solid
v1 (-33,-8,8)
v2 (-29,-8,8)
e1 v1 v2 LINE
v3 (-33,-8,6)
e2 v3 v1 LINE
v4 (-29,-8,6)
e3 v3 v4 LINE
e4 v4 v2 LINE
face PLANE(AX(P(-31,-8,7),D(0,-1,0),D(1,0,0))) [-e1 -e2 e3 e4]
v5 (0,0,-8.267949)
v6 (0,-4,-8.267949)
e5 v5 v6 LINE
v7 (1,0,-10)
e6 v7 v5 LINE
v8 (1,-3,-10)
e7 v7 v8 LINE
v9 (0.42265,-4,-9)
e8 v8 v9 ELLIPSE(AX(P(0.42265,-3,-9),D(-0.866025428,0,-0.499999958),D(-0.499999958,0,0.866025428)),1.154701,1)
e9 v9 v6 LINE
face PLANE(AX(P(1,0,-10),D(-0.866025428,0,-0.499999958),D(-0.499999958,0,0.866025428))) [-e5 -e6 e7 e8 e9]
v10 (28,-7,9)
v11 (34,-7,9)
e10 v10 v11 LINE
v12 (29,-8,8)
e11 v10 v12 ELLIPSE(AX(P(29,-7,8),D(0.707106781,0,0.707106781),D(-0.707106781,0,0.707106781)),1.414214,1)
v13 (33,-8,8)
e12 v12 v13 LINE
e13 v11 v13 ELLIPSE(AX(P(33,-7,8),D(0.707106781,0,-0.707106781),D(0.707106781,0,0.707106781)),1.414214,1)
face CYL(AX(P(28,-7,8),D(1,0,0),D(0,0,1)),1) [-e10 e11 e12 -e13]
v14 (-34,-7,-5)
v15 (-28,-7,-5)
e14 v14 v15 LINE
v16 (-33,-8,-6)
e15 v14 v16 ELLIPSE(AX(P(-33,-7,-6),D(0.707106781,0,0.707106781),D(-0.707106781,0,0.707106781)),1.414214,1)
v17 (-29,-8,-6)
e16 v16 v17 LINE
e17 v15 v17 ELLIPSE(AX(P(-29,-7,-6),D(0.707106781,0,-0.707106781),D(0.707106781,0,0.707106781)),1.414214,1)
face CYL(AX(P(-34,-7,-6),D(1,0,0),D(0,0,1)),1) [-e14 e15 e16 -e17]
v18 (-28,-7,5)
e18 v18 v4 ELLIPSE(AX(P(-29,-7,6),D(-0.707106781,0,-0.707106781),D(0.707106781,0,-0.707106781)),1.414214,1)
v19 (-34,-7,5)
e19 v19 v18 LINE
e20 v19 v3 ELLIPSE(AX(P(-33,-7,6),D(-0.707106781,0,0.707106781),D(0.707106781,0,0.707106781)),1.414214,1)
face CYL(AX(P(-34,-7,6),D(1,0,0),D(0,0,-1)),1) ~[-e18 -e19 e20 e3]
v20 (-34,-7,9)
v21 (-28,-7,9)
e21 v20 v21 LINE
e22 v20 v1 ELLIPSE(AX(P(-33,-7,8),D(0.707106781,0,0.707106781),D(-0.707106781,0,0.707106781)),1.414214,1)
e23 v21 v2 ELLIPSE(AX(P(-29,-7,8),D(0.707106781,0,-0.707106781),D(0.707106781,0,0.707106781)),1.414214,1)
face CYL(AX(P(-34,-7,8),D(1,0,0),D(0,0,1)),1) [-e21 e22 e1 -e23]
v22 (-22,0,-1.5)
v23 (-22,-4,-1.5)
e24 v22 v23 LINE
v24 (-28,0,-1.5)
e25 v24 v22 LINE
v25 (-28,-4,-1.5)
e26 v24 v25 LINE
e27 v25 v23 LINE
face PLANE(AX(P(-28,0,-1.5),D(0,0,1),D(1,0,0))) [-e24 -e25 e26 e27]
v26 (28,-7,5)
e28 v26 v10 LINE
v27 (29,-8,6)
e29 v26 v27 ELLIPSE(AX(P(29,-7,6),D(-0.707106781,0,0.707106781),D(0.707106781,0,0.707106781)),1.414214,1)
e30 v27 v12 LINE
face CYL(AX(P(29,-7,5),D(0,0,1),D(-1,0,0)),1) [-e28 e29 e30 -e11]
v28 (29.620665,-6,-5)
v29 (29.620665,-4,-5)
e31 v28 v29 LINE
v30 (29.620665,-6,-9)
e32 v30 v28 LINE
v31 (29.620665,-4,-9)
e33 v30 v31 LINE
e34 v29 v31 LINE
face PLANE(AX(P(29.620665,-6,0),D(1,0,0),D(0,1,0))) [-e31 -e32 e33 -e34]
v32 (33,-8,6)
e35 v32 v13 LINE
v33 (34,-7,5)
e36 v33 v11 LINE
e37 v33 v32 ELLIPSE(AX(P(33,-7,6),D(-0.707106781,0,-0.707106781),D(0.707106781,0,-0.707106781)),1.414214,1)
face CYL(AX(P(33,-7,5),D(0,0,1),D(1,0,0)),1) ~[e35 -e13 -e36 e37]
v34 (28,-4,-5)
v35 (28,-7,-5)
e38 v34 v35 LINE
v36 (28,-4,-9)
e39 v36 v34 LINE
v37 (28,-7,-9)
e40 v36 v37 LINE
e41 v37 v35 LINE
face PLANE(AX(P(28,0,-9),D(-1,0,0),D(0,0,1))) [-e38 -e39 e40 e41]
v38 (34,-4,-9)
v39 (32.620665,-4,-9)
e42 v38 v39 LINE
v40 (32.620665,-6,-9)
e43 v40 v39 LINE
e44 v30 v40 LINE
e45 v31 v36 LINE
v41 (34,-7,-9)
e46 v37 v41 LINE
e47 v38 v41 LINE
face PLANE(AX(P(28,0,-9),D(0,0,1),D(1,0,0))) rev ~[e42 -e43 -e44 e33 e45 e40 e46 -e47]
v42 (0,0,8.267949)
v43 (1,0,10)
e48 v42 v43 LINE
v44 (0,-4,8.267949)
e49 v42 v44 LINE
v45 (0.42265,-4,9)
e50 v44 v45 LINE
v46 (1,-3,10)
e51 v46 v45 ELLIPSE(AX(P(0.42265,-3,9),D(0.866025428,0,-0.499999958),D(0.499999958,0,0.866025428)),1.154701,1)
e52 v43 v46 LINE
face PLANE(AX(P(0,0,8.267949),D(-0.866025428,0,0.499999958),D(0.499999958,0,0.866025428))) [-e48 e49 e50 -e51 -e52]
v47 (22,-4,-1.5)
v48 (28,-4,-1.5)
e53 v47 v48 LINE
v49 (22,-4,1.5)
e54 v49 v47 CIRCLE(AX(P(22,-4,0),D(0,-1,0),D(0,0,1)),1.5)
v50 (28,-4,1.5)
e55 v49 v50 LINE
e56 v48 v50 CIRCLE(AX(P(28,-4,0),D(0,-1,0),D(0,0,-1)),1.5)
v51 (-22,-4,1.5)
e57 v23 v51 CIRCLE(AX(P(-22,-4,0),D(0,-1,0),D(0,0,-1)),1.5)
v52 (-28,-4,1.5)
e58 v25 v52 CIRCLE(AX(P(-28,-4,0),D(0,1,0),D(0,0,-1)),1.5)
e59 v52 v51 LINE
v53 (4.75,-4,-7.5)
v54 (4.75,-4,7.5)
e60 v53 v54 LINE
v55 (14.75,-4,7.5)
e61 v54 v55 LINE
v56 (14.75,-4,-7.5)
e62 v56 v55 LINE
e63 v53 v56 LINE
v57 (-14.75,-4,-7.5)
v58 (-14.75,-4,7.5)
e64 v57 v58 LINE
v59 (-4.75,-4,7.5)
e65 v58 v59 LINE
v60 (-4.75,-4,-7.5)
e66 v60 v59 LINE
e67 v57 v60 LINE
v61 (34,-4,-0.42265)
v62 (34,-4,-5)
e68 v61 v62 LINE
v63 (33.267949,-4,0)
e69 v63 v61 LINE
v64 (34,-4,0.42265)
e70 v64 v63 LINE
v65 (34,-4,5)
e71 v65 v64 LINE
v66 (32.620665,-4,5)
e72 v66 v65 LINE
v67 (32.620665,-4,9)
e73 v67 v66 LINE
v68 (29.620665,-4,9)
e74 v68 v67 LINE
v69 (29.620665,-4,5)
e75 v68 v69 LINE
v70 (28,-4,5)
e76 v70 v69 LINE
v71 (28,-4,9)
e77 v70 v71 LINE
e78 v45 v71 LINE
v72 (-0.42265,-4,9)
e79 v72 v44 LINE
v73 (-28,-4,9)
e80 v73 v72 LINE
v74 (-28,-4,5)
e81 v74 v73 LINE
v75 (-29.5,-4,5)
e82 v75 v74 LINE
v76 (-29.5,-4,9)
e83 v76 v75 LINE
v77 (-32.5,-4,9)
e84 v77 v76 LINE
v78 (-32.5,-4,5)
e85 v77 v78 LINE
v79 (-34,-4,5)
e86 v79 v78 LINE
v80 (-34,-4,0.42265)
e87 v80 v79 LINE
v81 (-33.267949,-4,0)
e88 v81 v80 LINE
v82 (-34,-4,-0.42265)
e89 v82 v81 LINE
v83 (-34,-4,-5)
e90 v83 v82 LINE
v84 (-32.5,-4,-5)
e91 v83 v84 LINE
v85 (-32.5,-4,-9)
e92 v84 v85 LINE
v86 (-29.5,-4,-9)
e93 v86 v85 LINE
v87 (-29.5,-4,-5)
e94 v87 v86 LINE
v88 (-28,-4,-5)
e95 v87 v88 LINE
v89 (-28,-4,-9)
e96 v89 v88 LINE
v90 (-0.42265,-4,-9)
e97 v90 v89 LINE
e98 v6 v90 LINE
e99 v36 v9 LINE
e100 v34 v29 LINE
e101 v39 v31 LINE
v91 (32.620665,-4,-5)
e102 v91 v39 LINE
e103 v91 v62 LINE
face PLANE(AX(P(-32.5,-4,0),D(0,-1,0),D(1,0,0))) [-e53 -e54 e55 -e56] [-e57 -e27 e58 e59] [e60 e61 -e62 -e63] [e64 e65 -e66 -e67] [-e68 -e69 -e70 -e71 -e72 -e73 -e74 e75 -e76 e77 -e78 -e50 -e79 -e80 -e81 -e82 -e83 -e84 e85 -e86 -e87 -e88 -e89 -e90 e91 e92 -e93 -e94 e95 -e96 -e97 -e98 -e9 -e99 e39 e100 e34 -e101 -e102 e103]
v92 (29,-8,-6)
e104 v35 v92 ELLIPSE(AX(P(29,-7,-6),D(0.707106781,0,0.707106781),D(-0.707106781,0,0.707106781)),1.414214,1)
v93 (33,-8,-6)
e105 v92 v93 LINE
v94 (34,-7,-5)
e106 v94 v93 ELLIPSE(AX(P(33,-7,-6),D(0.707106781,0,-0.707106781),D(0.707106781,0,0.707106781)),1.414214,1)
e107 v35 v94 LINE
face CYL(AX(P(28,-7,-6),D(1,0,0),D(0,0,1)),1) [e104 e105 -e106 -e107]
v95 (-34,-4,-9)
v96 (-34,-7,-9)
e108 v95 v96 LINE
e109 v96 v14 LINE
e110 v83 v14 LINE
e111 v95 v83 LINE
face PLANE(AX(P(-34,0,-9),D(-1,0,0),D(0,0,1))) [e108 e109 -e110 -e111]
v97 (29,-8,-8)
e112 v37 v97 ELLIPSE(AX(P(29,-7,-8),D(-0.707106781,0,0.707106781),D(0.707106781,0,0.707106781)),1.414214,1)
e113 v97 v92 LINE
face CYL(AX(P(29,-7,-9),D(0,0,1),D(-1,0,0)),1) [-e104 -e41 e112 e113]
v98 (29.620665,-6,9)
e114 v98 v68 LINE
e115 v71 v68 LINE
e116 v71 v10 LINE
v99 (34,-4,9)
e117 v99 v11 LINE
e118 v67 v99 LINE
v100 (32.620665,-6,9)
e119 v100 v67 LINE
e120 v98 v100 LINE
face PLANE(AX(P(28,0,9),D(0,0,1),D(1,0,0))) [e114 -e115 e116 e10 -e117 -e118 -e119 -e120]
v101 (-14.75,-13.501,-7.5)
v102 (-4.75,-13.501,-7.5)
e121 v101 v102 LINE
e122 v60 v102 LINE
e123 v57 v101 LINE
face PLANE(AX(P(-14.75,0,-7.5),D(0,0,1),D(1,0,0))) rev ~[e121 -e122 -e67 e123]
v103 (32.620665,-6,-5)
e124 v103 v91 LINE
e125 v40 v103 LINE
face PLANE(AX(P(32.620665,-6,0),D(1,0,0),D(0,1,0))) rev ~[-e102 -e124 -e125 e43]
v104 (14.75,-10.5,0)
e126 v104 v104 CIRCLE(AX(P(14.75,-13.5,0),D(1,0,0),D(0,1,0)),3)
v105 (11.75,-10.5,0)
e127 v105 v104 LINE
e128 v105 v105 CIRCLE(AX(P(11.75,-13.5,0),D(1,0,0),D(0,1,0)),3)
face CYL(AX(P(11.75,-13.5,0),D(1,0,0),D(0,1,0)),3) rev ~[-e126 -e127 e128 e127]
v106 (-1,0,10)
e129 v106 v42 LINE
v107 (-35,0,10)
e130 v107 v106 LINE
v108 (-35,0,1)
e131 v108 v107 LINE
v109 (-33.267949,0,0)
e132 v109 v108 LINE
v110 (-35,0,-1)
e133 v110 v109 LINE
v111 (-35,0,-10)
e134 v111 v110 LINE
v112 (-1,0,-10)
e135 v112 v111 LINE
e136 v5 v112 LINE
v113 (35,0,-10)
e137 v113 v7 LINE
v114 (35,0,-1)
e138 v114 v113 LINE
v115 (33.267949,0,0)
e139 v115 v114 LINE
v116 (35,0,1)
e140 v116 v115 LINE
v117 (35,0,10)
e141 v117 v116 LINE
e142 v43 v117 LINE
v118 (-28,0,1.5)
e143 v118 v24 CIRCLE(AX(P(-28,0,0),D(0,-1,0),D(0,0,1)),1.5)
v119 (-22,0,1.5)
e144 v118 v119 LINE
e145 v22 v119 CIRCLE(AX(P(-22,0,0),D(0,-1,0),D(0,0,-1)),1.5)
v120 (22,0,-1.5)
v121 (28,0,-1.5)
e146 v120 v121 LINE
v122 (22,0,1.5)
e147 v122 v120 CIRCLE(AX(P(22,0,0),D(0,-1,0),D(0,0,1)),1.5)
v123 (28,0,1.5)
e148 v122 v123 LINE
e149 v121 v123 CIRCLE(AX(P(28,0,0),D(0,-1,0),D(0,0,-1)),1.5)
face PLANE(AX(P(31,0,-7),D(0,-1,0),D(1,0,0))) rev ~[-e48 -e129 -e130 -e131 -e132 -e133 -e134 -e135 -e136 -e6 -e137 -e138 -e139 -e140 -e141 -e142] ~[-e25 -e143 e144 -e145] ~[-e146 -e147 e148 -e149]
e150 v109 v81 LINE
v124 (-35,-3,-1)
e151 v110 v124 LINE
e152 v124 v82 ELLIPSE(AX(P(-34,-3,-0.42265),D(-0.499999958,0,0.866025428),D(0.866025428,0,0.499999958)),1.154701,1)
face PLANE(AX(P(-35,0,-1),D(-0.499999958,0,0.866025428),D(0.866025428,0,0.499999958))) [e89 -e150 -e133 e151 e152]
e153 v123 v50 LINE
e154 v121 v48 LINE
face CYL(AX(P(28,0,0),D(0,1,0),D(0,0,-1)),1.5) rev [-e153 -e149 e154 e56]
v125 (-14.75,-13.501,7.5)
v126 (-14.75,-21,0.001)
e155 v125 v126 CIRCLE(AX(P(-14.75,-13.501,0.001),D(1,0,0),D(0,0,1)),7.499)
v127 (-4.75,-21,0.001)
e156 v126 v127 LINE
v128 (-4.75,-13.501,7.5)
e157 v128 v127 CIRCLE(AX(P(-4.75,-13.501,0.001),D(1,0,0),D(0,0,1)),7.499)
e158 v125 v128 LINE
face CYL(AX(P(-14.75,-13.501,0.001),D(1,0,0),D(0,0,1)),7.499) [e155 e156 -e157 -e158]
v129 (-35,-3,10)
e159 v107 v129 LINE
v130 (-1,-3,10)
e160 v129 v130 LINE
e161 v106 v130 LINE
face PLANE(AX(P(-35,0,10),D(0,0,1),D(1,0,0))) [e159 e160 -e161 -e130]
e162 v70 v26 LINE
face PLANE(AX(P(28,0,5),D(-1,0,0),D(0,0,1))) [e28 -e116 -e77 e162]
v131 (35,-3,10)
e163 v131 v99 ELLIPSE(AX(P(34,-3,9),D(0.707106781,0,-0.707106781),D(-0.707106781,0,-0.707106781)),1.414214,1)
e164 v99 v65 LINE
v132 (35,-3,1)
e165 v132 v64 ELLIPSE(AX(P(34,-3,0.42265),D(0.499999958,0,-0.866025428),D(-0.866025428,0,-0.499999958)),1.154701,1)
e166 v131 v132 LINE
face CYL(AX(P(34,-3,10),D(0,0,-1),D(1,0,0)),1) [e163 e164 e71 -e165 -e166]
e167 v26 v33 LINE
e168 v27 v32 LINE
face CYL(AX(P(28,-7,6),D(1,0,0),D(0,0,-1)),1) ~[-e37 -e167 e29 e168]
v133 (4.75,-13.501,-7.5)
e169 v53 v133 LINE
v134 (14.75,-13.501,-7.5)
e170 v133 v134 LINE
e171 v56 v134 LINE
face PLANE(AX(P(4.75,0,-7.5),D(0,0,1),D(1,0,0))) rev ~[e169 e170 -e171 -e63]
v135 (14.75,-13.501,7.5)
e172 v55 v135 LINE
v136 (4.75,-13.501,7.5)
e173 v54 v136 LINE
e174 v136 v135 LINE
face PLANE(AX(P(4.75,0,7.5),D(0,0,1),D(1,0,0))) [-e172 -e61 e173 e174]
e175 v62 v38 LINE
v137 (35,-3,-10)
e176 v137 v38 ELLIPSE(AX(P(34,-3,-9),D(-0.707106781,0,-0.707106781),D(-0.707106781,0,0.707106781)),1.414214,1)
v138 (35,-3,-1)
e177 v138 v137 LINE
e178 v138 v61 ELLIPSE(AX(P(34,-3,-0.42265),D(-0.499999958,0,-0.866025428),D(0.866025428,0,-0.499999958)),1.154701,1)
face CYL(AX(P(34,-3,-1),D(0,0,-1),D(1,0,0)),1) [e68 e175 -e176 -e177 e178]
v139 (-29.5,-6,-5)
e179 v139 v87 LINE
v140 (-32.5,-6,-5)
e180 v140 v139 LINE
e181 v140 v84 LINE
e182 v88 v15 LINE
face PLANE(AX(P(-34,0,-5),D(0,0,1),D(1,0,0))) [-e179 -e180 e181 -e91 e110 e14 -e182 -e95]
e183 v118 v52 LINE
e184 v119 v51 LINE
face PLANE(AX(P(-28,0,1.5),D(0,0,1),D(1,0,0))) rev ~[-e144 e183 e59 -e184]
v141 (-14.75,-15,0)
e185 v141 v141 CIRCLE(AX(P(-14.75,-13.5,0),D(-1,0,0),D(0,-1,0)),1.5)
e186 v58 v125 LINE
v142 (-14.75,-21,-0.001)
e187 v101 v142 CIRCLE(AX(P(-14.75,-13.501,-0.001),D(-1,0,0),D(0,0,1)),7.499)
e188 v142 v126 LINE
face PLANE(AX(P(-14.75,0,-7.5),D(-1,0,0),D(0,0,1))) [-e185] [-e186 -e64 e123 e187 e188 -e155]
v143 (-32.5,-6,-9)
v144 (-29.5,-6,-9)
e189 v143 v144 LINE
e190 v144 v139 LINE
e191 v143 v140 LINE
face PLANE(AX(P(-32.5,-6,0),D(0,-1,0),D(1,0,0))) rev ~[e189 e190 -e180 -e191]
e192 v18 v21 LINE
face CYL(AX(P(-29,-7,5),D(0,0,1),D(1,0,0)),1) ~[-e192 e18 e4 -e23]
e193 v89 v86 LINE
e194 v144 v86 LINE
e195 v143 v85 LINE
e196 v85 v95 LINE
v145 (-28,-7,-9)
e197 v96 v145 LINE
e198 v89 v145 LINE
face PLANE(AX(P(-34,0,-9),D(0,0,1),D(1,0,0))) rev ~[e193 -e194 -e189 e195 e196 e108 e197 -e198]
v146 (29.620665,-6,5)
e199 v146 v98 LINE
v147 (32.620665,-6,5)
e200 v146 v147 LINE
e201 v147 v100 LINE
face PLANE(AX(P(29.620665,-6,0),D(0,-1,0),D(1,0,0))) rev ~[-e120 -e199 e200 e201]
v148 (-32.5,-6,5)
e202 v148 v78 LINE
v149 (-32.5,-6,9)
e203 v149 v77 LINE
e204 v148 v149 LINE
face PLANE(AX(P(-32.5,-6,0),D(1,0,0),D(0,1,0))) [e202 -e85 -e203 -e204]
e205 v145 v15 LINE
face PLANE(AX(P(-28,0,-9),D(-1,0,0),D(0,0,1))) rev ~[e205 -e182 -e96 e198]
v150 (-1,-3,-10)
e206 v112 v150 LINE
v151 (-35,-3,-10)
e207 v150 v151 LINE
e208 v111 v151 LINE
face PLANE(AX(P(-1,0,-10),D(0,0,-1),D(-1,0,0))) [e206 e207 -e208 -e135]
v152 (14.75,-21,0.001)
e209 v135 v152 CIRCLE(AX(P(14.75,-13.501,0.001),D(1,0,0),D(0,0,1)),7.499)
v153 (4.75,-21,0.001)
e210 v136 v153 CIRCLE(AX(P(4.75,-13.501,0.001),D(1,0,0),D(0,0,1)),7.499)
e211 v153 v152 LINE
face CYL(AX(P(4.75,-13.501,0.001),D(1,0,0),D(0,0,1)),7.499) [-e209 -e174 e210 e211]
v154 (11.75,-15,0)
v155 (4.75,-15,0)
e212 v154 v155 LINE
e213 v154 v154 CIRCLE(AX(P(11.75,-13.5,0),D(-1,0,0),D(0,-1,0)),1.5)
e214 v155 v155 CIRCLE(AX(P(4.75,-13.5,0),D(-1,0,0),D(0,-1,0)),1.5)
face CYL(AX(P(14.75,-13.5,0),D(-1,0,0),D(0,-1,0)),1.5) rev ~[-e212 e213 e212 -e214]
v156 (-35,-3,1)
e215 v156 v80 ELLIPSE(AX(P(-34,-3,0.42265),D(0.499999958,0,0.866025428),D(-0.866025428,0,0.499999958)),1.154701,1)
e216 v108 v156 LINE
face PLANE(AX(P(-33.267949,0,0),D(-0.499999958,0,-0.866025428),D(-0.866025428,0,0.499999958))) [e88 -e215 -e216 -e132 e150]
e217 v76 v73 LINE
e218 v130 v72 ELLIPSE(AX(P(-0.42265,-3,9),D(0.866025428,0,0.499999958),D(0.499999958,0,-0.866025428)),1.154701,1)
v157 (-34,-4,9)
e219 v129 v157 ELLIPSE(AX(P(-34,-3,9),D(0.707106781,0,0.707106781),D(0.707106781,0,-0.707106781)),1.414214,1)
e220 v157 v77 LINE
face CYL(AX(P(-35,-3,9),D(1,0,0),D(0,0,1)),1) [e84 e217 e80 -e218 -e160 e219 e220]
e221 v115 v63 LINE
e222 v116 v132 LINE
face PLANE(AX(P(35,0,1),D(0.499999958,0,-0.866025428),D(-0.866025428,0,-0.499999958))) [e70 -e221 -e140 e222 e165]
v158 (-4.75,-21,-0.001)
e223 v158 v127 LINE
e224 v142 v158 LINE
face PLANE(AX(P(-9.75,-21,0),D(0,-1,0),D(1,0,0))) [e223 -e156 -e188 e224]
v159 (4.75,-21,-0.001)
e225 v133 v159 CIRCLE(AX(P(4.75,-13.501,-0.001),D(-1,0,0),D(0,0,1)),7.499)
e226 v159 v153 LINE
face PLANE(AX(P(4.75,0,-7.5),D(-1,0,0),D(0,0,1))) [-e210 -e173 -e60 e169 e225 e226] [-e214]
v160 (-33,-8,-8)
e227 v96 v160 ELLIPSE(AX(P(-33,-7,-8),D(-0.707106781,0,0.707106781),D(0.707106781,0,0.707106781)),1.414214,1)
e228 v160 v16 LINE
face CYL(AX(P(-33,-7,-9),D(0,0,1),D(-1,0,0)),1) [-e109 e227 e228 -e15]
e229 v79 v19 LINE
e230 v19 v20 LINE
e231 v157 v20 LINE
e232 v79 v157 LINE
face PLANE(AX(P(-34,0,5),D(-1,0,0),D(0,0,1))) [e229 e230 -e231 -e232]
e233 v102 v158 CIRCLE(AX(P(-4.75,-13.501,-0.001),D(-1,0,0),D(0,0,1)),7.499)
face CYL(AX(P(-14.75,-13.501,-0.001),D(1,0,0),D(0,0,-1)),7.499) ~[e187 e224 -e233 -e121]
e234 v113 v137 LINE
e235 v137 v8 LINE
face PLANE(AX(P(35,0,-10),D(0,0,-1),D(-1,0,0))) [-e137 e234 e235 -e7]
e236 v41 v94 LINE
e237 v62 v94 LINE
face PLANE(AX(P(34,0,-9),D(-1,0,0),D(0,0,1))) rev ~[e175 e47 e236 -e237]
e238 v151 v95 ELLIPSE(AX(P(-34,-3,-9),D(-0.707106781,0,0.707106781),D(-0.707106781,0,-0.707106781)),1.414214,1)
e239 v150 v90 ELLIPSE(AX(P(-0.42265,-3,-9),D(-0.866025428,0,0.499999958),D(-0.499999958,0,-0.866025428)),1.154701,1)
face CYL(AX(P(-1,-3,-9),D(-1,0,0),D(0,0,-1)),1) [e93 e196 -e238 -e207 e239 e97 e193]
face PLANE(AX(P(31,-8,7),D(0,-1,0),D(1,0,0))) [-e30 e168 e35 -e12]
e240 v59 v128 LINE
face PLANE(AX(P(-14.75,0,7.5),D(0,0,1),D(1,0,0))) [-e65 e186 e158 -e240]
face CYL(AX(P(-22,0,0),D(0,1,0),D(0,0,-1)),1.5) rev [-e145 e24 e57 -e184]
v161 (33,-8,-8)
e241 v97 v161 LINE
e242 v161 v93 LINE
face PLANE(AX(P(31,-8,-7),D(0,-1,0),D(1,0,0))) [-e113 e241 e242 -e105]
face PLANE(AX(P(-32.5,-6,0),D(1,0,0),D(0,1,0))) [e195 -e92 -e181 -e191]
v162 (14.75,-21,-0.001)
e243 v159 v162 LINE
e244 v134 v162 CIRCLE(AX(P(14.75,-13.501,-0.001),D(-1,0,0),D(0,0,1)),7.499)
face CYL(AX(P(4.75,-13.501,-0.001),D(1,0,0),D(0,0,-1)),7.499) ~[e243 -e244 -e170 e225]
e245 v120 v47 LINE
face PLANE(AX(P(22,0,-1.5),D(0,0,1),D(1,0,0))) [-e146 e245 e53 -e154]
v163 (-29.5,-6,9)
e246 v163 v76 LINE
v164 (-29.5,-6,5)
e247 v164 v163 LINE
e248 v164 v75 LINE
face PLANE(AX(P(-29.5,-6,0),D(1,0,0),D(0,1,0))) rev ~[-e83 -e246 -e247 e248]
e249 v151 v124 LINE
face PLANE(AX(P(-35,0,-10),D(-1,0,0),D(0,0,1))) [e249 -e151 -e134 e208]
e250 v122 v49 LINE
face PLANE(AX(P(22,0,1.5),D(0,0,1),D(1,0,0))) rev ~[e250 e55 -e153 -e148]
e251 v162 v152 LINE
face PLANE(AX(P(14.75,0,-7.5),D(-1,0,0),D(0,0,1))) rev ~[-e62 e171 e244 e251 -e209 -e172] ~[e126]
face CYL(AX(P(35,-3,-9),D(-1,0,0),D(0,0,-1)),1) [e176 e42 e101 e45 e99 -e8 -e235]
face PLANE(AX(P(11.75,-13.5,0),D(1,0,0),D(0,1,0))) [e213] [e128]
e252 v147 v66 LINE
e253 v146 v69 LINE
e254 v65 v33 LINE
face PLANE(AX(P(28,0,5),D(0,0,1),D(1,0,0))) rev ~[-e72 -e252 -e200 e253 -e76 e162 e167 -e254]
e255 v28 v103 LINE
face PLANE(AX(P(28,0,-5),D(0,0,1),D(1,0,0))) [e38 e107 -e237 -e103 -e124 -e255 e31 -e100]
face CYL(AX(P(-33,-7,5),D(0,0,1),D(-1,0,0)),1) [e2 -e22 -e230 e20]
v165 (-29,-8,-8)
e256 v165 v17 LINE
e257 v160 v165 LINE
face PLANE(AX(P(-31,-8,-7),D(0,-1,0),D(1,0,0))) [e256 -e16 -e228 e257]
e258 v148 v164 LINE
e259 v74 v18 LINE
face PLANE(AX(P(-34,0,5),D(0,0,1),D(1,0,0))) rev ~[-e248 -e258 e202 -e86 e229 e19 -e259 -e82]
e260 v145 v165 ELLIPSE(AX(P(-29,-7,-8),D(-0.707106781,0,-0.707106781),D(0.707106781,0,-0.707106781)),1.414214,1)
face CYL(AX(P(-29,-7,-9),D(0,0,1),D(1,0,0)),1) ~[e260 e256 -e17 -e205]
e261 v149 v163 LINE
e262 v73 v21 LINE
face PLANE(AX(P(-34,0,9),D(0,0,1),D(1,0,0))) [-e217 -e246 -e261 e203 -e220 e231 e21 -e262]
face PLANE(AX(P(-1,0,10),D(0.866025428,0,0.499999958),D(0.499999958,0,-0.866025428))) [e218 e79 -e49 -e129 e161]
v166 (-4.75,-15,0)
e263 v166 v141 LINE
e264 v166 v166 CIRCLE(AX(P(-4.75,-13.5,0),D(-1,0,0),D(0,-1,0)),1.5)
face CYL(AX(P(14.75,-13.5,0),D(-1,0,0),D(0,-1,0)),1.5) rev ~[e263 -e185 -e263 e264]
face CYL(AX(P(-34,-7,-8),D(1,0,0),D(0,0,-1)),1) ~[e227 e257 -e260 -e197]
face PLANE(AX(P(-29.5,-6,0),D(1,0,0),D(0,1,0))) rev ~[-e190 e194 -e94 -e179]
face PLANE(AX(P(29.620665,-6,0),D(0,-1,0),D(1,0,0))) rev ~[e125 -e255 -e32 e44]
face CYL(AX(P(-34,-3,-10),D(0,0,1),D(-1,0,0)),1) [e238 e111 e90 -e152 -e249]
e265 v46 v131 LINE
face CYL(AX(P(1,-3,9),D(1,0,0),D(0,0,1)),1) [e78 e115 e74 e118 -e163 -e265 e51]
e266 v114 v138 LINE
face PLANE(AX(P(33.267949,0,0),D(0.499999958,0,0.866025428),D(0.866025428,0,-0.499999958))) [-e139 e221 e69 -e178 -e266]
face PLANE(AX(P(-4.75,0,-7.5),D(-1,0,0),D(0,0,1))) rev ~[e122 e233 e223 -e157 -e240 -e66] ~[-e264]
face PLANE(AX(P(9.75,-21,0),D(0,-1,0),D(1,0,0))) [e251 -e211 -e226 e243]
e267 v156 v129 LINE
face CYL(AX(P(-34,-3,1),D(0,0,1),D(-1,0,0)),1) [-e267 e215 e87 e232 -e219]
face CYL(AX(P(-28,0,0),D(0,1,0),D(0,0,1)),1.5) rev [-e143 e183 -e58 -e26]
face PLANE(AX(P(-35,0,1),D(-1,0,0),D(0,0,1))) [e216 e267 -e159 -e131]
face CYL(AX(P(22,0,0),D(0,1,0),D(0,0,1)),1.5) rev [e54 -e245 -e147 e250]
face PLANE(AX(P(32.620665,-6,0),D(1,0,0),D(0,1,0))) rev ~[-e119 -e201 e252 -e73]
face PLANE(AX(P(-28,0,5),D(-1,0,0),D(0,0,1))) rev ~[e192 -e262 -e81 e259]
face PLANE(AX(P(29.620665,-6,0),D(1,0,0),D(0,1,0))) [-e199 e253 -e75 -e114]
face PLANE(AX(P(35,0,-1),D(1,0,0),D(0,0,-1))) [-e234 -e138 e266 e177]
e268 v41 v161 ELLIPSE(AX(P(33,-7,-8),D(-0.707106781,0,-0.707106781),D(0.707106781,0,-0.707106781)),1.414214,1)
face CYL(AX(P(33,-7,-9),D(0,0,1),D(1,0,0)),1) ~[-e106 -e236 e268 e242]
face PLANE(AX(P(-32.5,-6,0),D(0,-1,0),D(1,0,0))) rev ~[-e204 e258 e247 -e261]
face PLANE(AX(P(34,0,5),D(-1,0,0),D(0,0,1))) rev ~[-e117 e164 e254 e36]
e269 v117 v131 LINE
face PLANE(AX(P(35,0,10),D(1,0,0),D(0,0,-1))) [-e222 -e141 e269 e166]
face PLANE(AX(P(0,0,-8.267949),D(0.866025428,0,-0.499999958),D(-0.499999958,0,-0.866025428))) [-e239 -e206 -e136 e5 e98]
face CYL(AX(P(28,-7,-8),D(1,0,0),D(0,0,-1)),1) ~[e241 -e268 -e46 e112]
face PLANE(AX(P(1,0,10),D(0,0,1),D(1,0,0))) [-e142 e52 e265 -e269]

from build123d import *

# Parameters (mm, degrees)
SKETCH001_W         = 10
SKETCH001_H         = 15
PAD001_DEPTH        = 21
FILLET001_R         = 7.499
SKETCH005_W         = 10
SKETCH005_H         = 15
PAD002_DEPTH        = 21
FILLET002_R         = 7.499
PAD_DEPTH           = 4
FILLET_R            = 1
SKETCH008_W         = 6
SKETCH008_H         = 4
PAD003_DEPTH        = 8
SKETCH009_W         = 6
SKETCH009_H         = 4
PAD004_DEPTH        = 8
SKETCH010_W         = 6
SKETCH010_H         = 4
PAD005_DEPTH        = 8
SKETCH011_W         = 6
SKETCH011_H         = 4
PAD006_DEPTH        = 8
FILLET003_R         = 1
HOLE001_D           = 3
HOLE001_DEPTH       = 100
HOLE001_CBORE_D     = 6
HOLE001_CBORE_DEPTH = 3
SKETCH013_W         = 3
SKETCH013_H         = 2
POCKET_DEPTH        = 15
SKETCH014_W         = 3
SKETCH014_H         = 2
POCKET001_DEPTH     = 15


with BuildPart() as left_hinge:
    # Sketch001 → Pad001 (new body)
    with BuildSketch(Plane.XZ):
        with Locations((-9.75, 0)):
            Rectangle(SKETCH001_W, SKETCH001_H)
    extrude(amount=PAD001_DEPTH)

    # Fillet001
    fillet001_edges = [left_hinge.edges().sort_by_distance(p)[0] for p in [
        (-9.75, -21, -7.5),
        (-9.75, -21, 7.5),
    ]]
    fillet(fillet001_edges, radius=FILLET001_R)


with BuildPart() as body002:
    # Sketch005 → Pad002 (new body)
    with BuildSketch(Plane.XZ):
        with Locations((9.75, 0)):
            Rectangle(SKETCH005_W, SKETCH005_H)
    extrude(amount=PAD002_DEPTH)

    # Fillet002
    fillet002_edges = [body002.edges().sort_by_distance(p)[0] for p in [
        (9.75, -21, -7.5),
        (9.75, -21, 7.5),
    ]]
    fillet(fillet002_edges, radius=FILLET002_R)


with BuildPart() as base:
    # Sketch → Pad (new body)
    with BuildSketch(Plane.XZ):
        Polygon((-35, 10), (-1, 10), (0, 8.267949), (1, 10), (35, 10), (35, 1), (33.267949, 0), (35, -1), (35, -10), (1, -10), (0, -8.267949), (-1, -10), (-35, -10), (-35, -1), (-33.267949, 0), (-35, 1), align=None)
        with BuildLine():
            ThreePointArc((-28, 1.5), (-29.5, 0), (-28, -1.5))
            Line((-28, -1.5), (-22, -1.5))
            ThreePointArc((-22, -1.5), (-20.5, 0), (-22, 1.5))
            Line((-28, 1.5), (-22, 1.5))
        make_face(mode=Mode.SUBTRACT)
        with BuildLine():
            ThreePointArc((22, 1.5), (20.5, 0), (22, -1.5))
            Line((22, -1.5), (28, -1.5))
            ThreePointArc((28, -1.5), (29.5, 0), (28, 1.5))
            Line((22, 1.5), (28, 1.5))
        make_face(mode=Mode.SUBTRACT)
    extrude(amount=PAD_DEPTH)

    # Fillet
    fillet_edges = [base.edges().sort_by_distance(p)[0] for p in [
        (-18, -4, -10),
        (18, -4, -10),
        (35, -4, -5.5),
        (35, -4, 5.5),
        (18, -4, 10),
        (-18, -4, 10),
        (-35, -4, 5.5),
        (-35, -4, -5.5),
    ]]
    fillet(fillet_edges, radius=FILLET_R)

    # Boolean: union Left hinge
    add(left_hinge.part)

    # Boolean001: union Body002
    add(body002.part)

    # Sketch008 → Pad003 (join)
    with BuildSketch(Plane.XZ):
        with Locations((-31, 7)):
            Rectangle(SKETCH008_W, SKETCH008_H)
    extrude(amount=PAD003_DEPTH)

    # Sketch009 → Pad004 (join)
    with BuildSketch(Plane.XZ):
        with Locations((31, 7)):
            Rectangle(SKETCH009_W, SKETCH009_H)
    extrude(amount=PAD004_DEPTH)

    # Sketch010 → Pad005 (join)
    with BuildSketch(Plane.XZ):
        with Locations((-31, -7)):
            Rectangle(SKETCH010_W, SKETCH010_H)
    extrude(amount=PAD005_DEPTH)

    # Sketch011 → Pad006 (join)
    with BuildSketch(Plane.XZ):
        with Locations((31, -7)):
            Rectangle(SKETCH011_W, SKETCH011_H)
    extrude(amount=PAD006_DEPTH)

    # Fillet003
    fillet003_edges = [base.edges().sort_by_distance(p)[0] for p in [
        (-34, -8, 7),
        (-31, -8, 5),
        (-28, -8, 7),
        (-31, -8, 9),
        (-34, -8, -7),
        (-31, -8, -9),
        (-28, -8, -7),
        (-31, -8, -5),
        (28, -8, -7),
        (31, -8, -9),
        (34, -8, -7),
        (31, -8, -5),
        (28, -8, 7),
        (31, -8, 5),
        (34, -8, 7),
        (31, -8, 9),
    ]]
    fillet(fillet003_edges, radius=FILLET003_R)

    # Hole001
    with Locations(Plane.YZ.offset(14.75)):
        with Locations((-13.5, 0)):
            CounterBoreHole(HOLE001_D / 2, HOLE001_CBORE_D / 2, HOLE001_CBORE_DEPTH, depth=HOLE001_DEPTH)

    # Sketch013 → Pocket (cut, symmetric)
    with BuildSketch(Plane.XY):
        with Locations((-31, -5)):
            Rectangle(SKETCH013_W, SKETCH013_H)
    extrude(amount=POCKET_DEPTH, both=True, mode=Mode.SUBTRACT)

    # Sketch014 → Pocket001 (cut, symmetric)
    with BuildSketch(Plane.XY):
        with Locations((31.120665, -5)):
            Rectangle(SKETCH014_W, SKETCH014_H)
    extrude(amount=POCKET001_DEPTH, both=True, mode=Mode.SUBTRACT)


solid = base.part
